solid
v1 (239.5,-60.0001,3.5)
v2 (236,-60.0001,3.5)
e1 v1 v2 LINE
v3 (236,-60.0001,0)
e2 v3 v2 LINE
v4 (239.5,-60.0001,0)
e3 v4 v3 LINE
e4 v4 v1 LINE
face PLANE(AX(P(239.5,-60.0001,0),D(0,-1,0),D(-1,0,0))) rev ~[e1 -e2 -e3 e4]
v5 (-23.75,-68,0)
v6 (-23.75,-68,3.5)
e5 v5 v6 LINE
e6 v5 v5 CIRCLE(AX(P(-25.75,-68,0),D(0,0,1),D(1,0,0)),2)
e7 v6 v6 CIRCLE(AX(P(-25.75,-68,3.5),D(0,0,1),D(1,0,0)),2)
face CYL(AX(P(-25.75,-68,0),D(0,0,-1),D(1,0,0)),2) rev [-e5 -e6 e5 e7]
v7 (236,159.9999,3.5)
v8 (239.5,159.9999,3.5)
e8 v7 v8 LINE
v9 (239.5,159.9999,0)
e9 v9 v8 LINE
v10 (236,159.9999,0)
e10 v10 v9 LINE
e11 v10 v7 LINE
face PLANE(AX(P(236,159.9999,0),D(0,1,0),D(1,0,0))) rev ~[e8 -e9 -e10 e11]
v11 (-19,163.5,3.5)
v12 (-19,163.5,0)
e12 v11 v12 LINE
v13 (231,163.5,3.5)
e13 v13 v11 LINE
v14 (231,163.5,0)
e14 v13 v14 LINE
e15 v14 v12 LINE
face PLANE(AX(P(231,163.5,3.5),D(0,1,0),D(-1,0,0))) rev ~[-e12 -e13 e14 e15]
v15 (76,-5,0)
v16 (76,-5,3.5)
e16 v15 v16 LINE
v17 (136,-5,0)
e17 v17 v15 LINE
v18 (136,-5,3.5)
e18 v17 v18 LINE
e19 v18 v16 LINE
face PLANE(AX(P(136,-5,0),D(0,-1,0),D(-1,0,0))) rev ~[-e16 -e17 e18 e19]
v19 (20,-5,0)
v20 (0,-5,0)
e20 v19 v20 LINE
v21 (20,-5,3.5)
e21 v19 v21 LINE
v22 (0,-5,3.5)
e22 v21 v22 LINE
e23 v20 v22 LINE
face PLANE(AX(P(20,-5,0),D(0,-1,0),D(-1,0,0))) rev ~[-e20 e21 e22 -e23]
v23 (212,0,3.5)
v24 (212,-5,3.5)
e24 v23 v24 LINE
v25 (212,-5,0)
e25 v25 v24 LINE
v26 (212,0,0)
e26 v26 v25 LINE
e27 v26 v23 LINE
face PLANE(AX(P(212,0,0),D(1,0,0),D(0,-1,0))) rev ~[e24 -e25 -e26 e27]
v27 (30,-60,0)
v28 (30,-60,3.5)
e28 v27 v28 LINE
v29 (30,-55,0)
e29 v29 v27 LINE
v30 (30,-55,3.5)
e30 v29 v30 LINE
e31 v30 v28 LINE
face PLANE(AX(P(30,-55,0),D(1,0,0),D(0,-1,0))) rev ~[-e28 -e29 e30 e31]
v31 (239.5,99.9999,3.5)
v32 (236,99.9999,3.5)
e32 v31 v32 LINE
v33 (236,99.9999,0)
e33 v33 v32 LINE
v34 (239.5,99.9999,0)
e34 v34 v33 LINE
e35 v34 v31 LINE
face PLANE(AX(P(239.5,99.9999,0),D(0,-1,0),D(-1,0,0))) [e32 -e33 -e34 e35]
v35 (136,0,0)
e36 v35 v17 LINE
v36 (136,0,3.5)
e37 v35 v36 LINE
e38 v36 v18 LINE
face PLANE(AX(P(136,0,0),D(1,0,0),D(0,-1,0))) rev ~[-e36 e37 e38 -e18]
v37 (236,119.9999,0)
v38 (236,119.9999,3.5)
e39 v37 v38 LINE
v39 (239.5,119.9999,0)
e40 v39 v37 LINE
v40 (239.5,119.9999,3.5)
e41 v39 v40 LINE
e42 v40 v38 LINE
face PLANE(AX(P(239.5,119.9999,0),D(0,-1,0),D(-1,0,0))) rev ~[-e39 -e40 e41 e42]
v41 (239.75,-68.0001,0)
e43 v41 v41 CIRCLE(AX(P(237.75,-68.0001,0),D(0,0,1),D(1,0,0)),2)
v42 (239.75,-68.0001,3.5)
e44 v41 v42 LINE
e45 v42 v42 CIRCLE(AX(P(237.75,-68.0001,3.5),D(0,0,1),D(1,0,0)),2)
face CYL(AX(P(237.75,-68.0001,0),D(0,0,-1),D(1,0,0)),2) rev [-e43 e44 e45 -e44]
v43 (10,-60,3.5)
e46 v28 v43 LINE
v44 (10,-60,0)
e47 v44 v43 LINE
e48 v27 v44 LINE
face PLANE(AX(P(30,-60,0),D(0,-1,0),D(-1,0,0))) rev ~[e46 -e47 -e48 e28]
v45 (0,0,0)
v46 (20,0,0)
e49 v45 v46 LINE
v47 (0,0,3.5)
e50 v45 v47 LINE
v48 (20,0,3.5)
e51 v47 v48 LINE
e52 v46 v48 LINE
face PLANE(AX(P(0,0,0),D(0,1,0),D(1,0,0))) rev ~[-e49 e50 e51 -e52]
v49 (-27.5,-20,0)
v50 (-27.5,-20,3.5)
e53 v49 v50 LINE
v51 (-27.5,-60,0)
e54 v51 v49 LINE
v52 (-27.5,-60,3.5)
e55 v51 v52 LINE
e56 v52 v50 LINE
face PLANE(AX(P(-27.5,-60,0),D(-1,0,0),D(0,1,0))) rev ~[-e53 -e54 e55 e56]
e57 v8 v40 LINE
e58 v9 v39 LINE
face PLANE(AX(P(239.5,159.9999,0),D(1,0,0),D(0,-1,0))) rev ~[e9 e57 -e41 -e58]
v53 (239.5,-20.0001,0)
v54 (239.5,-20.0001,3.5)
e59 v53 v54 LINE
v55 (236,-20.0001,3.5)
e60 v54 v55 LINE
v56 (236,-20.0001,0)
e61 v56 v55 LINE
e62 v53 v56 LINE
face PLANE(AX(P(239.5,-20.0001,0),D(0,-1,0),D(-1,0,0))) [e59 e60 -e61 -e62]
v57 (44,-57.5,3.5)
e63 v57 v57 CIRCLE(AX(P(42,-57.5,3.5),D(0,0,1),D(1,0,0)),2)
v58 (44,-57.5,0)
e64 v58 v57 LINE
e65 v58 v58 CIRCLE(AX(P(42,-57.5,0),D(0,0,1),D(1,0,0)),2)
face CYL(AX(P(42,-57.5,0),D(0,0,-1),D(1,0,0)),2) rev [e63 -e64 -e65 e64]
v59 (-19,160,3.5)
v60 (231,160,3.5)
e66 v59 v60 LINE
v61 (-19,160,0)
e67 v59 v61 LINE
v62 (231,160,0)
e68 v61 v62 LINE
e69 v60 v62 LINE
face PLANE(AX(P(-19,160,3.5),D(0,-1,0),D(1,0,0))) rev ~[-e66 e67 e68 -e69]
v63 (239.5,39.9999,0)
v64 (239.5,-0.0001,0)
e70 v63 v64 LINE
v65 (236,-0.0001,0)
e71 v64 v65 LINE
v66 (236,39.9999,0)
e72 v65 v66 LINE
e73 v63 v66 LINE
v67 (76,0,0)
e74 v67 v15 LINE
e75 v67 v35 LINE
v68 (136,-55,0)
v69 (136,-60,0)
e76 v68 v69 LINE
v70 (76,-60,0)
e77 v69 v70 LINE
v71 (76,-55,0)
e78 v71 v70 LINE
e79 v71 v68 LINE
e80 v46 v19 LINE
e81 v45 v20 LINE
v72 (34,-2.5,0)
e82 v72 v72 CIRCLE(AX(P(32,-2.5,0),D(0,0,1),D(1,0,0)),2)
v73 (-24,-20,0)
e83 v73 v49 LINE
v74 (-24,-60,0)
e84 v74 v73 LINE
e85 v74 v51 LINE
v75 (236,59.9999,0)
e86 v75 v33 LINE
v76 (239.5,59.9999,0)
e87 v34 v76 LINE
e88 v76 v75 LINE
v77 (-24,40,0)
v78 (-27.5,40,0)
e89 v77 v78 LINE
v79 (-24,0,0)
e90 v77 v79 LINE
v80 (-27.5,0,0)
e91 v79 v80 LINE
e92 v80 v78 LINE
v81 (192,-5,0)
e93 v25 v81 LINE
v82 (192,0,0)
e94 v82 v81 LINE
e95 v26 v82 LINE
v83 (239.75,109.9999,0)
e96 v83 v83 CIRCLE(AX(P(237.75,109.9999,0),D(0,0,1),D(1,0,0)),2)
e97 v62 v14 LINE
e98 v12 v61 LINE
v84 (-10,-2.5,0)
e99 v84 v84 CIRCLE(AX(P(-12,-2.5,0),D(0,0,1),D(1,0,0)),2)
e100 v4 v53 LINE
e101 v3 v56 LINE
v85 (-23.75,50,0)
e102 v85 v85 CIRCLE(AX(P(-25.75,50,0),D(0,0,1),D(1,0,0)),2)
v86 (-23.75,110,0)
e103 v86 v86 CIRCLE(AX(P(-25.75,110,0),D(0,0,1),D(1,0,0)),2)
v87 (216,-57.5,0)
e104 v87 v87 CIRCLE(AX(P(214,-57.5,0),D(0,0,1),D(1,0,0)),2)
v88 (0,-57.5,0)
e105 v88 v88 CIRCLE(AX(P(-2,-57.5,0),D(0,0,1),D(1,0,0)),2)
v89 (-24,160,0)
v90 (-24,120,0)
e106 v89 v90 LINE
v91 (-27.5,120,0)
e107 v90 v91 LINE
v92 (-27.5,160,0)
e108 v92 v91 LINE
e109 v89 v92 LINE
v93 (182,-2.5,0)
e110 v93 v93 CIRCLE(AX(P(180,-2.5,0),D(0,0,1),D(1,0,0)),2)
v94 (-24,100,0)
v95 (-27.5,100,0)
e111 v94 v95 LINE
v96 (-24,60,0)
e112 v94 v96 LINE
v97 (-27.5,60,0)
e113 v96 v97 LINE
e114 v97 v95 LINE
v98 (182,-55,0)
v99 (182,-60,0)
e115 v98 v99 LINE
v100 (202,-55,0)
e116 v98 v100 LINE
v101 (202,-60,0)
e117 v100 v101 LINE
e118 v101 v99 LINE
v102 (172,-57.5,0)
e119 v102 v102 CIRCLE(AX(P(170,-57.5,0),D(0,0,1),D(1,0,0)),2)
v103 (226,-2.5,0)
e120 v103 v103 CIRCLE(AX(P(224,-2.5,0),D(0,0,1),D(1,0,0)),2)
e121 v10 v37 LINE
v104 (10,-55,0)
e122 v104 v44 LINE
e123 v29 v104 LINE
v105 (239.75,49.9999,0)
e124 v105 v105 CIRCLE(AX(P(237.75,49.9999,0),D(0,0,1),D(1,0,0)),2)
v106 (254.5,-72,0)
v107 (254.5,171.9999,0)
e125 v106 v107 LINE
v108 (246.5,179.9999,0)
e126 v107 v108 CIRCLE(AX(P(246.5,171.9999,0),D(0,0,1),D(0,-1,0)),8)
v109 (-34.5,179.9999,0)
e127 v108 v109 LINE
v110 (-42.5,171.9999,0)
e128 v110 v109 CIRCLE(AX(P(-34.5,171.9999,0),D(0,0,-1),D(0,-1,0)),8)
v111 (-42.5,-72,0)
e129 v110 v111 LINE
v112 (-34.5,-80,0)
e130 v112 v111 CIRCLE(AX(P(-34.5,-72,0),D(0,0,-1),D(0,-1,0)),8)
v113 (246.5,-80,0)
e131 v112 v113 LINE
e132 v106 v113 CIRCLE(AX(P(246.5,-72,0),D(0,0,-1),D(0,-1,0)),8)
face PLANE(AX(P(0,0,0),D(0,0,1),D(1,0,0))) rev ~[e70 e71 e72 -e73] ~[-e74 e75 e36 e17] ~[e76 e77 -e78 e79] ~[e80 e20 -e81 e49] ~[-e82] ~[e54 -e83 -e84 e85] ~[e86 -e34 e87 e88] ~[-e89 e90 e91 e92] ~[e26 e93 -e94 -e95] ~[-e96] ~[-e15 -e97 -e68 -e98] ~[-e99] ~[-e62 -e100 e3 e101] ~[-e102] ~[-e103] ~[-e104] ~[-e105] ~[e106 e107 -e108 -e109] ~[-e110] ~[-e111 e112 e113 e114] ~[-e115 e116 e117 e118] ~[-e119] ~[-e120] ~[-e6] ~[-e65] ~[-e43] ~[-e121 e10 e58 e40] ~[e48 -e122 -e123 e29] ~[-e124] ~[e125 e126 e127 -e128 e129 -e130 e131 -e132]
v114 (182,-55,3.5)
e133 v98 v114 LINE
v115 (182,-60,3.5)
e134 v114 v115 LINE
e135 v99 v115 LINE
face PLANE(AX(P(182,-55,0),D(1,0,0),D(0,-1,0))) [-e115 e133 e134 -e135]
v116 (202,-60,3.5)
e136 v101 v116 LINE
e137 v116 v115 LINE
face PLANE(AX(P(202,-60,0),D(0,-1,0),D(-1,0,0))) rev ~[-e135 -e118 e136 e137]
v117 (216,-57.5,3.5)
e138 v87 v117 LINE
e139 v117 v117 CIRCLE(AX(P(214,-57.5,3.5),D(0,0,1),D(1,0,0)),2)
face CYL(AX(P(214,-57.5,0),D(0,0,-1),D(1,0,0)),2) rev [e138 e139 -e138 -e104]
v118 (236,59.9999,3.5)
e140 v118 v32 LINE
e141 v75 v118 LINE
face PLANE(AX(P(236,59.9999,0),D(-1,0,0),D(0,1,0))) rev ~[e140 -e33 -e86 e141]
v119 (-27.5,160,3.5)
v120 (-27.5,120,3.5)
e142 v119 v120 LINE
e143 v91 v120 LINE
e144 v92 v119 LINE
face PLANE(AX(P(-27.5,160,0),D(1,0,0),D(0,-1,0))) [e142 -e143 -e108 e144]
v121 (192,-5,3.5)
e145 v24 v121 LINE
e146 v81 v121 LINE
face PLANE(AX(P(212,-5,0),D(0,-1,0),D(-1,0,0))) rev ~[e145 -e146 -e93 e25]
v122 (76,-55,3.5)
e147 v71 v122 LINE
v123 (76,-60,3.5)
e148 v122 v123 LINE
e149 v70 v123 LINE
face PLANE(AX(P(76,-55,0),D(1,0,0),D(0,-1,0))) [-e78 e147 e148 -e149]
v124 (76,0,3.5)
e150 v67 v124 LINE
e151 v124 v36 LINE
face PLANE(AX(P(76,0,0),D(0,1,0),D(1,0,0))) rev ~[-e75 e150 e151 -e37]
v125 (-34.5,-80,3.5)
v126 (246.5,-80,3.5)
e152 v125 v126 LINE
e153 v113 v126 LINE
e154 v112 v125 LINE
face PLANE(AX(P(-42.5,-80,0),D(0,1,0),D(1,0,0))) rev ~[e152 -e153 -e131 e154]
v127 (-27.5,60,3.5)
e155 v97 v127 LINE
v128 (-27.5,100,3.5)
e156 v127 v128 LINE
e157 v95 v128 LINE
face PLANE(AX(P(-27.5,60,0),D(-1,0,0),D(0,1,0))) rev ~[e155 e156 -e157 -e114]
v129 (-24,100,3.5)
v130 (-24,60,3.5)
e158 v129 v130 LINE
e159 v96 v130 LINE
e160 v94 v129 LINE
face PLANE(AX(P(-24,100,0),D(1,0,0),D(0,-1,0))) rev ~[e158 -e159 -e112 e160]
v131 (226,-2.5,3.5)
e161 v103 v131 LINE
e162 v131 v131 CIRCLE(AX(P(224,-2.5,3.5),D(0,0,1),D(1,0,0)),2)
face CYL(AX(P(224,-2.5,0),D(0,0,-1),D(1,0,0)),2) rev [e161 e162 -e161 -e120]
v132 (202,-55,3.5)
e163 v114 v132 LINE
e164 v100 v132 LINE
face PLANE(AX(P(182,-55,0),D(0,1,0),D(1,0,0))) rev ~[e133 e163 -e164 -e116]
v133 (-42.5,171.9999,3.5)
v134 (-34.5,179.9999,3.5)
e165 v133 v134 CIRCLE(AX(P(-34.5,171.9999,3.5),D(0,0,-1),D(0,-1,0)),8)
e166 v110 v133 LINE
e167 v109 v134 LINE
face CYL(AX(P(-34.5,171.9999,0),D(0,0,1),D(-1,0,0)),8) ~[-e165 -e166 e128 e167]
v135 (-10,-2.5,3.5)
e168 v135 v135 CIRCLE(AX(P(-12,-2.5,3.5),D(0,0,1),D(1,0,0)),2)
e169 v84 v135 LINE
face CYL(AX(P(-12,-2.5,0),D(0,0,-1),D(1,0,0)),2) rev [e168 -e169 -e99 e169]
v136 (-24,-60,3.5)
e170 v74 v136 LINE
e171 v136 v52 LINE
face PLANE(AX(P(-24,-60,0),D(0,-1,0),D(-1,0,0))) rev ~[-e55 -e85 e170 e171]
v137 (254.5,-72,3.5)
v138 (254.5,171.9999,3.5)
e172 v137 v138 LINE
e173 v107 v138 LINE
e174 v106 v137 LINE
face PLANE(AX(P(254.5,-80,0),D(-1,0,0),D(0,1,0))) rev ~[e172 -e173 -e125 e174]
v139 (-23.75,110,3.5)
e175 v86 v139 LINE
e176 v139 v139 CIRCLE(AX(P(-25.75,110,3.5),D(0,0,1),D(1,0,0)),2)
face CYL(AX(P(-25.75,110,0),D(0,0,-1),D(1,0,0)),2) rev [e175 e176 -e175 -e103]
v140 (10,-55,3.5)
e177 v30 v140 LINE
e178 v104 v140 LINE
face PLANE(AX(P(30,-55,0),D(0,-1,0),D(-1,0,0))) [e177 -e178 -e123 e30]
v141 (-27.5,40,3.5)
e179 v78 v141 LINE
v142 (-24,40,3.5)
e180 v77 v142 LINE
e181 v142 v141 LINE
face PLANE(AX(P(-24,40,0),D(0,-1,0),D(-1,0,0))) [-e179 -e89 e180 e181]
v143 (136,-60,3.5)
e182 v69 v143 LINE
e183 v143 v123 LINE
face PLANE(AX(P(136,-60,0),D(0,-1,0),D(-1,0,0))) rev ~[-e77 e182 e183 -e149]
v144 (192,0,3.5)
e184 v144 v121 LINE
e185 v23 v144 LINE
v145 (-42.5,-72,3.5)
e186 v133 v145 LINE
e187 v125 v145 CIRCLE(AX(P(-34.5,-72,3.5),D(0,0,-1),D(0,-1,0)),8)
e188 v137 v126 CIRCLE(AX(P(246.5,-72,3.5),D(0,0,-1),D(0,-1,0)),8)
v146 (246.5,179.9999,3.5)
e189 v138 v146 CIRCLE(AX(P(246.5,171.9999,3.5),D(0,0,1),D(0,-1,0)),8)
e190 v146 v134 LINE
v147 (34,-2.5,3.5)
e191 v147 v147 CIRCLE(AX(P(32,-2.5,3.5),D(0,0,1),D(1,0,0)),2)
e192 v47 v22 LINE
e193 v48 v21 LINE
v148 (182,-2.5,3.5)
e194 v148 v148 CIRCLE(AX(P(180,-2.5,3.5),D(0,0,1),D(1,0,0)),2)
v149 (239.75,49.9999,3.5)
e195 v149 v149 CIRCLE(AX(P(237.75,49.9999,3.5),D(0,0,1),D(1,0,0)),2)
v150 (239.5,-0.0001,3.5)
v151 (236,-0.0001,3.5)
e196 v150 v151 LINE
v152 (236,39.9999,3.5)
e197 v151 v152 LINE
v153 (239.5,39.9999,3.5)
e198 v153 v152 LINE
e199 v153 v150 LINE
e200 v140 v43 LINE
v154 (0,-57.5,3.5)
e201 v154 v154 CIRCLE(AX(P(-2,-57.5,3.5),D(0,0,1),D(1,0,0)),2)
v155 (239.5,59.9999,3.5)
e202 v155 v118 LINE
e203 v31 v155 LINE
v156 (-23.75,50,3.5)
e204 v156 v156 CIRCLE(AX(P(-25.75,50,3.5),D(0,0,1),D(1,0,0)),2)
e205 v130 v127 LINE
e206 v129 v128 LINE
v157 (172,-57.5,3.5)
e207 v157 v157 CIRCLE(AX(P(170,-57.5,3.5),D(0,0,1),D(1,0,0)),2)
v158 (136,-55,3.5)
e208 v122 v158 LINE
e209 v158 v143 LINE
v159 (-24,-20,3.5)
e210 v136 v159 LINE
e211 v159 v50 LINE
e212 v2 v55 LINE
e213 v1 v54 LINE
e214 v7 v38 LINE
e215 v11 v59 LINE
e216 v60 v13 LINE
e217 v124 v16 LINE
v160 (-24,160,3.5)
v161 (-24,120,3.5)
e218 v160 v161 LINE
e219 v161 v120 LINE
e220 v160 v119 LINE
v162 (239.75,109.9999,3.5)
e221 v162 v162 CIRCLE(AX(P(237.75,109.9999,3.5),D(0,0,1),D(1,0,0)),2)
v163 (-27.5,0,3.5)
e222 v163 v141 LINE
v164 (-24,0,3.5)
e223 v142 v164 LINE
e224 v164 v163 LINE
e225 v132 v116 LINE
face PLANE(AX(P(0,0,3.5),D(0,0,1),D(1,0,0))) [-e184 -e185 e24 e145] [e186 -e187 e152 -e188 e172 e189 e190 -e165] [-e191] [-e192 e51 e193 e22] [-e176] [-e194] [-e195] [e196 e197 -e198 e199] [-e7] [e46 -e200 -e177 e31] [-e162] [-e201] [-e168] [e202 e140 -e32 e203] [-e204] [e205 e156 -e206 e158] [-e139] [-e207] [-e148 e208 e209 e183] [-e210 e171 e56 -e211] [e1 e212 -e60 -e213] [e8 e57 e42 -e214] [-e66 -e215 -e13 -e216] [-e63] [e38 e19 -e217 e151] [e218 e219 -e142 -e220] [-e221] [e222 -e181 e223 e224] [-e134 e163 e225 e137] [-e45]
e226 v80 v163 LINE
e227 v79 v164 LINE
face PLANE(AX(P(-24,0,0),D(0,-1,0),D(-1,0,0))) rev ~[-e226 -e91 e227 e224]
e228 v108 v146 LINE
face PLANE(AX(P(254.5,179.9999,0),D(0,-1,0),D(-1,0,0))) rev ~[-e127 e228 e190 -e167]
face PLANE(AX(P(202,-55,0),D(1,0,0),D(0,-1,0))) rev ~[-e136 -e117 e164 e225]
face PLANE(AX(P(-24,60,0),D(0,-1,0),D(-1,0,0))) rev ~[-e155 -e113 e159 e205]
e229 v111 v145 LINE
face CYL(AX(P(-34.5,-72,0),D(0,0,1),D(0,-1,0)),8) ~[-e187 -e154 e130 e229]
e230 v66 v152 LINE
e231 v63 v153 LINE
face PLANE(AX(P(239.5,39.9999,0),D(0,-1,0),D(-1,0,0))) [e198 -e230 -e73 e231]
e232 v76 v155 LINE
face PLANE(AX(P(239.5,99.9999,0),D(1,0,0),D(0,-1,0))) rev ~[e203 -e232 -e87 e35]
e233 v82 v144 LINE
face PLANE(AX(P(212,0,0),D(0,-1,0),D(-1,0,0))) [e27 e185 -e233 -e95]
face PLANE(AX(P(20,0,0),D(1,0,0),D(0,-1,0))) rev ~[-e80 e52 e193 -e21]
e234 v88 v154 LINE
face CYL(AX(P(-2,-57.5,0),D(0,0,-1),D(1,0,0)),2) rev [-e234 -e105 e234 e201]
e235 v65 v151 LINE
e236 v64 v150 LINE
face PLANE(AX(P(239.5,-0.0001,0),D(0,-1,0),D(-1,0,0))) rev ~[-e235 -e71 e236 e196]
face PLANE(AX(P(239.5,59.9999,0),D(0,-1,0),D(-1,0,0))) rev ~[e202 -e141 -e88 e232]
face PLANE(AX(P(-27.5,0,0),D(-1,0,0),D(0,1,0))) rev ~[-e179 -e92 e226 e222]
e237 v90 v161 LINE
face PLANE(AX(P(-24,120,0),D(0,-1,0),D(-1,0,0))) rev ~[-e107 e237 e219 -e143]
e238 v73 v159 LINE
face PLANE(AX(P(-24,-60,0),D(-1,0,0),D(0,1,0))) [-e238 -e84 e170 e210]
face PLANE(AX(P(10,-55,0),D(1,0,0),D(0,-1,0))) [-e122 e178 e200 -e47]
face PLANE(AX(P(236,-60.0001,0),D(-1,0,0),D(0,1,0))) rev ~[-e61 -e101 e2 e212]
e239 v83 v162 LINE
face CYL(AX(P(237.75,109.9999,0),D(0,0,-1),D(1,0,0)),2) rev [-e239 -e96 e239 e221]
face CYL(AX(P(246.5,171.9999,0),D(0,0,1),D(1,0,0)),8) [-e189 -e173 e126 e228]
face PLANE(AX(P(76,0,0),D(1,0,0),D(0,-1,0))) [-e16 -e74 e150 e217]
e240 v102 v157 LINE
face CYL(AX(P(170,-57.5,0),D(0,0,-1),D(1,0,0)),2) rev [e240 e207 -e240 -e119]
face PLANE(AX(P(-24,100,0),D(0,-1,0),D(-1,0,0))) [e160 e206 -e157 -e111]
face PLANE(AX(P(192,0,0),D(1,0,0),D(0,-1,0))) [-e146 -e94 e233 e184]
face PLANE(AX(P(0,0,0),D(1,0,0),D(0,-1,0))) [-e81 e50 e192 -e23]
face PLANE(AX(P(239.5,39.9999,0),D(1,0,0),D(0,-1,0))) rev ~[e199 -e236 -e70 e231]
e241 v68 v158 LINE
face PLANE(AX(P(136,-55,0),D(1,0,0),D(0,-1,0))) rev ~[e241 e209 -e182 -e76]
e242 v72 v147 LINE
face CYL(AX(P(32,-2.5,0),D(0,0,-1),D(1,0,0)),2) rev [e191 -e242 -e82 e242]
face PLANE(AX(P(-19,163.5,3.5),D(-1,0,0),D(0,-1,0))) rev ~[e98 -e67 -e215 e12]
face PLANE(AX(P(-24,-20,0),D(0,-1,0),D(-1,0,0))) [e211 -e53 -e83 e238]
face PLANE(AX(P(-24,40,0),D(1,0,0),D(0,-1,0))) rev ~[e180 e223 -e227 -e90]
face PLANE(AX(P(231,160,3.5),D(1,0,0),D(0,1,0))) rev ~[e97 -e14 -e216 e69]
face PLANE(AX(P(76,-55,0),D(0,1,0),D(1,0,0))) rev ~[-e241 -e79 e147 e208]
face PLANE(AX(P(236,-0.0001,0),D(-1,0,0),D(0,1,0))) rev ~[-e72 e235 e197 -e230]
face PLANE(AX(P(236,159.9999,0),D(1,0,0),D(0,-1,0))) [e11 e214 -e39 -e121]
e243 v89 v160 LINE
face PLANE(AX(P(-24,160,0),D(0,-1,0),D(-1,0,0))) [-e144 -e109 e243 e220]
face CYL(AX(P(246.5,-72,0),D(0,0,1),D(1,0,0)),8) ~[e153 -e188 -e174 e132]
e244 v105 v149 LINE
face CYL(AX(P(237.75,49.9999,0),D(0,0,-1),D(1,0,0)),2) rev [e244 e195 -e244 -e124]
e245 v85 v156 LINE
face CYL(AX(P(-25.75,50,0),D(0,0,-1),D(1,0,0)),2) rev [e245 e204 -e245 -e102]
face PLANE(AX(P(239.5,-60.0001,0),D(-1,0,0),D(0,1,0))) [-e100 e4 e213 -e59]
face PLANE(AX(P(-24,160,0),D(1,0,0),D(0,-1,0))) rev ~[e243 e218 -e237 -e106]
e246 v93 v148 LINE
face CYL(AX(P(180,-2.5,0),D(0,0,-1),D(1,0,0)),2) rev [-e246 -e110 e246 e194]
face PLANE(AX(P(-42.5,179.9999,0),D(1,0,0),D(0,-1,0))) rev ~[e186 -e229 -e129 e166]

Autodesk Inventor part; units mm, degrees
ref_plane "YZ Plane" through (0, 0, 0) normal (1, 0, 0) x (0, 1, 0)
ref_plane "XZ Plane" through (0, 0, 0) normal (0, 1, 0) x (-1, 0, 0)
ref_plane "XY Plane" through (0, 0, 0) normal (0, 0, 1) x (1, 0, 0)
sketch "Sketch1" plane through (0, 0, 0) normal (0, 0, 1) x (1, 0, 0)
  line L0 (0, 0) -> (20, 0)
  line L1 (0, 0) -> (0, -5)
  line L2 (20, -5) -> (0, -5)
  line L3 (20, 0) -> (20, -5)
  line L4 (76, 0) -> (76, -5)
  line L5 (76, 0) -> (136, 0)
  line L6 (136, -5) -> (76, -5)
  line L7 (136, 0) -> (136, -5)
  line L8 (192, 0) -> (192, -5)
  line L9 (212, 0) -> (192, 0)
  line L10 (212, -5) -> (192, -5)
  line L11 (212, 0) -> (212, -5)
  line L12 (10, -55) -> (10, -60)
  line L13 (30, -55) -> (10, -55)
  line L14 (30, -60) -> (10, -60)
  line L15 (30, -55) -> (30, -60)
  line L16 (76, -55) -> (76, -60)
  line L17 (76, -55) -> (136, -55)
  line L18 (136, -60) -> (76, -60)
  line L19 (136, -55) -> (136, -60)
  line L20 (182, -55) -> (182, -60)
  line L21 (182, -55) -> (202, -55)
  line L22 (202, -60) -> (182, -60)
  line L23 (202, -55) -> (202, -60)
  line L24 (236, -70.0001) -> (236, -80.0001) construction
  line L25 (239.5, -70.0001) -> (236, -70.0001) construction
  line L26 (239.5, -70.0001) -> (239.5, -80.0001) construction
  line L27 (236, -80.0001) -> (239.5, -80.0001) construction
  line L28 (-27.5, -80) -> (-27.5, -70) construction
  line L29 (-24, -70) -> (-27.5, -70) construction
  line L30 (-24, -70) -> (-24, -80) construction
  line L31 (-24, -80) -> (-27.5, -80) construction
  line L32 (-27.5, -60) -> (-27.5, -20)
  line L33 (-24, -20) -> (-27.5, -20)
  line L34 (-24, -60) -> (-24, -20)
  line L35 (-24, -60) -> (-27.5, -60)
  line L36 (-27.5, 0) -> (-27.5, 40)
  line L37 (-24, 40) -> (-24, 0)
  line L38 (-24, 40) -> (-27.5, 40)
  line L39 (-24, 0) -> (-27.5, 0)
  line L40 (-27.5, 60) -> (-27.5, 100)
  line L41 (-24, 100) -> (-27.5, 100)
  line L42 (-24, 100) -> (-24, 60)
  line L43 (-24, 60) -> (-27.5, 60)
  line L44 (-27.5, 160) -> (-27.5, 120)
  line L45 (-24, 160) -> (-24, 120)
  line L46 (-24, 160) -> (-27.5, 160)
  line L47 (236, -0.0001) -> (236, 39.9999)
  line L48 (239.5, 39.9999) -> (239.5, -0.0001)
  line L49 (239.5, 39.9999) -> (236, 39.9999)
  line L50 (239.5, -0.0001) -> (236, -0.0001)
  line L51 (236, -60.0001) -> (236, -20.0001)
  line L52 (239.5, -60.0001) -> (239.5, -20.0001)
  line L53 (239.5, -20.0001) -> (236, -20.0001)
  line L54 (239.5, -60.0001) -> (236, -60.0001)
  line L55 (239.5, 99.9999) -> (236, 99.9999)
  line L56 (236, 59.9999) -> (236, 99.9999)
  line L57 (239.5, 99.9999) -> (239.5, 59.9999)
  line L58 (239.5, 59.9999) -> (236, 59.9999)
  line L59 (236, 159.9999) -> (236, 119.9999)
  line L60 (239.5, 159.9999) -> (239.5, 119.9999)
  line L61 (236, 159.9999) -> (239.5, 159.9999)
  line L62 (236, 111.9999) -> (239.5, 111.9999) construction
  line L63 (239.5, 107.9999) -> (236, 107.9999) construction
  line L64 (236, 51.9999) -> (239.5, 51.9999) construction
  line L65 (239.5, 47.9999) -> (236, 47.9999) construction
  line L66 (236, -66.0001) -> (239.5, -66.0001) construction
  line L67 (212, -60) -> (212, -55) construction
  line L68 (216, -55) -> (216, -60) construction
  line L69 (168, -60) -> (168, -55) construction
  line L70 (172, -55) -> (172, -60) construction
  line L71 (40, -60) -> (40, -55) construction
  line L72 (44, -55) -> (44, -60) construction
  line L73 (-4, -60) -> (-4, -55) construction
  line L74 (0, -55) -> (0, -60) construction
  line L75 (-14, -5) -> (-14, 0) construction
  line L76 (-10, 0) -> (-10, -5) construction
  line L77 (30, -5) -> (30, 0) construction
  line L78 (34, 0) -> (34, -5) construction
  line L79 (178, -5) -> (178, 0) construction
  line L80 (182, 0) -> (182, -5) construction
  line L81 (222, -5) -> (222, 0) construction
  line L82 (226, 0) -> (226, -5) construction
  line L83 (-27.5, -66) -> (-24, -66) construction
  line L84 (-27.5, 52) -> (-24, 52) construction
  line L85 (-24, 48) -> (-27.5, 48) construction
  line L86 (-24, 108) -> (-27.5, 108) construction
  line L87 (-27.5, 112) -> (-24, 112) construction
  line L88 (-24, 120) -> (-27.5, 120)
  line L89 (239.5, 119.9999) -> (236, 119.9999)
  line L90 (-25.75, 112) -> (-25.75, 108) construction
  circle A0 centre (-25.75, 110) radius 2
  line L91 (-25.75, 52) -> (-25.75, 48) construction
  circle A1 centre (-25.75, 50) radius 2
  line L92 (-25.75, -66) -> (-25.75, -70) construction
  circle A2 centre (-25.75, -68) radius 2
  line L93 (237.75, 111.9999) -> (237.75, 107.9999) construction
  circle A3 centre (237.75, 109.9999) radius 2
  line L94 (237.75, 51.9999) -> (237.75, 47.9999) construction
  circle A4 centre (237.75, 49.9999) radius 2
  line L95 (237.75, -66.0001) -> (237.75, -70.0001) construction
  circle A5 centre (237.75, -68.0001) radius 2
  line L96 (-14, -2.5) -> (-10, -2.5) construction
  line L97 (30, -2.5) -> (34, -2.5) construction
  line L98 (178, -2.5) -> (182, -2.5) construction
  line L99 (222, -2.5) -> (226, -2.5) construction
  line L100 (212, -57.5) -> (216, -57.5) construction
  line L101 (168, -57.5) -> (172, -57.5) construction
  line L102 (40, -57.5) -> (44, -57.5) construction
  line L103 (-4, -57.5) -> (0, -57.5) construction
  circle A6 centre (-12, -2.5) radius 2
  circle A7 centre (32, -2.5) radius 2
  circle A8 centre (180, -2.5) radius 2
  circle A9 centre (224, -2.5) radius 2
  circle A10 centre (214, -57.5) radius 2
  circle A11 centre (170, -57.5) radius 2
  circle A12 centre (42, -57.5) radius 2
  circle A13 centre (-2, -57.5) radius 2
  line L104 (-27.5, -80) -> (-42.5, -80) construction
  line L105 (239.5, 159.9999) -> (254.5, 159.9999) construction
  line L106 (254.5, 159.9999) -> (254.5, 179.9999) construction
  line L107 (254.5, 179.9999) -> (239.5, 179.9999) construction
  line L108 (239.5, 179.9999) -> (239.5, 159.9999) construction
  line L109 (254.5, 179.9999) -> (-42.5, 179.9999)
  line L110 (-42.5, 179.9999) -> (-42.5, -80)
  line L111 (-42.5, -80) -> (254.5, -80)
  line L112 (254.5, -80) -> (254.5, 179.9999)
  dimension "d0" = 15
  dimension "d3" = 15
  dimension "d4" = 20
extrude "Extrusion1" add sketch "Sketch1" along normal blind 3.5
fillet "Fillet1" radius 8 4 edges at (254.5, 179.9999, 1.75) (-42.5, 179.9999, 1.75) (254.5, -80, 1.75) (-42.5, -80, 1.75)
sketch "Sketch2" plane through (0, 0, 3.5) normal (0, 0, 1) x (1, 0, 0)
  arc A0 (-42.5, -72) -> (-34.5, -80) centre (-34.5, -72) ccw construction
  line L0 (-34.5, -80) -> (246.5, -80) construction
  arc A1 (246.5, -80) -> (254.5, -72) centre (246.5, -72) ccw construction
  line L1 (254.5, -72) -> (254.5, 171.9999) construction
  arc A2 (254.5, 171.9999) -> (246.5, 179.9999) centre (246.5, 171.9999) ccw construction
  line L2 (246.5, 179.9999) -> (-34.5, 179.9999) construction
  arc A3 (-34.5, 179.9999) -> (-42.5, 171.9999) centre (-34.5, 171.9999) ccw construction
  line L3 (-42.5, 171.9999) -> (-42.5, -72) construction
  line L4 (76, -55) -> (136, -55) construction
  line L5 (136, -55) -> (136, -60) construction
  line L6 (136, -60) -> (76, -60) construction
  line L7 (76, -60) -> (76, -55) construction
  line L8 (76, 0) -> (136, 0) construction
  line L9 (136, 0) -> (136, -5) construction
  line L10 (136, -5) -> (76, -5) construction
  line L11 (76, -5) -> (76, 0) construction
  line L12 (236, 159.9999) -> (239.5, 159.9999) construction
  line L13 (239.5, 159.9999) -> (239.5, 119.9999) construction
  line L14 (239.5, 119.9999) -> (236, 119.9999) construction
  line L15 (236, 119.9999) -> (236, 159.9999) construction
  line L16 (239.5, 99.9999) -> (239.5, 59.9999) construction
  line L17 (239.5, 59.9999) -> (236, 59.9999) construction
  line L18 (236, 59.9999) -> (236, 99.9999) construction
  line L19 (236, 99.9999) -> (239.5, 99.9999) construction
  line L20 (236, -20.0001) -> (239.5, -20.0001) construction
  line L21 (239.5, -20.0001) -> (239.5, -60.0001) construction
  line L22 (239.5, -60.0001) -> (236, -60.0001) construction
  line L23 (236, -60.0001) -> (236, -20.0001) construction
  line L24 (236, 39.9999) -> (239.5, 39.9999) construction
  line L25 (239.5, 39.9999) -> (239.5, -0.0001) construction
  line L26 (239.5, -0.0001) -> (236, -0.0001) construction
  line L27 (236, -0.0001) -> (236, 39.9999) construction
  line L28 (-27.5, 160) -> (-24, 160) construction
  line L29 (-24, 160) -> (-24, 120) construction
  line L30 (-24, 120) -> (-27.5, 120) construction
  line L31 (-27.5, 120) -> (-27.5, 160) construction
  line L32 (-27.5, 100) -> (-24, 100) construction
  line L33 (-24, 100) -> (-24, 60) construction
  line L34 (-24, 60) -> (-27.5, 60) construction
  line L35 (-27.5, 60) -> (-27.5, 100) construction
  line L36 (-27.5, 40) -> (-24, 40) construction
  line L37 (-24, 40) -> (-24, 0) construction
  line L38 (-24, 0) -> (-27.5, 0) construction
  line L39 (-27.5, 0) -> (-27.5, 40) construction
  line L40 (-27.5, -20) -> (-24, -20) construction
  line L41 (-24, -20) -> (-24, -60) construction
  line L42 (-24, -60) -> (-27.5, -60) construction
  line L43 (-27.5, -60) -> (-27.5, -20) construction
  line L44 (182, -55) -> (202, -55) construction
  line L45 (202, -55) -> (202, -60) construction
  line L46 (202, -60) -> (182, -60) construction
  line L47 (182, -60) -> (182, -55) construction
  line L48 (10, -55) -> (30, -55) construction
  line L49 (30, -55) -> (30, -60) construction
  line L50 (30, -60) -> (10, -60) construction
  line L51 (10, -60) -> (10, -55) construction
  line L52 (192, 0) -> (212, 0) construction
  line L53 (212, 0) -> (212, -5) construction
  line L54 (212, -5) -> (192, -5) construction
  line L55 (192, -5) -> (192, 0) construction
  line L56 (20, 0) -> (20, -5) construction
  line L57 (20, -5) -> (0, -5) construction
  line L58 (0, -5) -> (0, 0) construction
  line L59 (0, 0) -> (20, 0) construction
  circle A4 centre (-2, -57.5) radius 2 construction
  circle A5 centre (42, -57.5) radius 2 construction
  circle A6 centre (170, -57.5) radius 2 construction
  circle A7 centre (214, -57.5) radius 2 construction
  circle A8 centre (224, -2.5) radius 2 construction
  circle A9 centre (180, -2.5) radius 2 construction
  circle A10 centre (32, -2.5) radius 2 construction
  circle A11 centre (-12, -2.5) radius 2 construction
  circle A12 centre (237.75, -68.0001) radius 2 construction
  circle A13 centre (237.75, 49.9999) radius 2 construction
  circle A14 centre (237.75, 109.9999) radius 2 construction
  circle A15 centre (-25.75, -68) radius 2 construction
  circle A16 centre (-25.75, 50) radius 2 construction
  circle A17 centre (-25.75, 110) radius 2 construction
  line L60 (-24, 160) -> (236, 159.9999) construction
  line L61 (-19, 160) -> (231, 160)
  line L62 (231, 160) -> (231, 163.5)
  line L63 (231, 163.5) -> (-19, 163.5)
  line L64 (-19, 163.5) -> (-19, 160)
  dimension "d8" = 250
  dimension "d9" = 3.5
  dimension "d10" = 5
extrude "Extrusion2" cut sketch "Sketch2" against normal blind 3.5
properties part number "Tapa_Frontal"
